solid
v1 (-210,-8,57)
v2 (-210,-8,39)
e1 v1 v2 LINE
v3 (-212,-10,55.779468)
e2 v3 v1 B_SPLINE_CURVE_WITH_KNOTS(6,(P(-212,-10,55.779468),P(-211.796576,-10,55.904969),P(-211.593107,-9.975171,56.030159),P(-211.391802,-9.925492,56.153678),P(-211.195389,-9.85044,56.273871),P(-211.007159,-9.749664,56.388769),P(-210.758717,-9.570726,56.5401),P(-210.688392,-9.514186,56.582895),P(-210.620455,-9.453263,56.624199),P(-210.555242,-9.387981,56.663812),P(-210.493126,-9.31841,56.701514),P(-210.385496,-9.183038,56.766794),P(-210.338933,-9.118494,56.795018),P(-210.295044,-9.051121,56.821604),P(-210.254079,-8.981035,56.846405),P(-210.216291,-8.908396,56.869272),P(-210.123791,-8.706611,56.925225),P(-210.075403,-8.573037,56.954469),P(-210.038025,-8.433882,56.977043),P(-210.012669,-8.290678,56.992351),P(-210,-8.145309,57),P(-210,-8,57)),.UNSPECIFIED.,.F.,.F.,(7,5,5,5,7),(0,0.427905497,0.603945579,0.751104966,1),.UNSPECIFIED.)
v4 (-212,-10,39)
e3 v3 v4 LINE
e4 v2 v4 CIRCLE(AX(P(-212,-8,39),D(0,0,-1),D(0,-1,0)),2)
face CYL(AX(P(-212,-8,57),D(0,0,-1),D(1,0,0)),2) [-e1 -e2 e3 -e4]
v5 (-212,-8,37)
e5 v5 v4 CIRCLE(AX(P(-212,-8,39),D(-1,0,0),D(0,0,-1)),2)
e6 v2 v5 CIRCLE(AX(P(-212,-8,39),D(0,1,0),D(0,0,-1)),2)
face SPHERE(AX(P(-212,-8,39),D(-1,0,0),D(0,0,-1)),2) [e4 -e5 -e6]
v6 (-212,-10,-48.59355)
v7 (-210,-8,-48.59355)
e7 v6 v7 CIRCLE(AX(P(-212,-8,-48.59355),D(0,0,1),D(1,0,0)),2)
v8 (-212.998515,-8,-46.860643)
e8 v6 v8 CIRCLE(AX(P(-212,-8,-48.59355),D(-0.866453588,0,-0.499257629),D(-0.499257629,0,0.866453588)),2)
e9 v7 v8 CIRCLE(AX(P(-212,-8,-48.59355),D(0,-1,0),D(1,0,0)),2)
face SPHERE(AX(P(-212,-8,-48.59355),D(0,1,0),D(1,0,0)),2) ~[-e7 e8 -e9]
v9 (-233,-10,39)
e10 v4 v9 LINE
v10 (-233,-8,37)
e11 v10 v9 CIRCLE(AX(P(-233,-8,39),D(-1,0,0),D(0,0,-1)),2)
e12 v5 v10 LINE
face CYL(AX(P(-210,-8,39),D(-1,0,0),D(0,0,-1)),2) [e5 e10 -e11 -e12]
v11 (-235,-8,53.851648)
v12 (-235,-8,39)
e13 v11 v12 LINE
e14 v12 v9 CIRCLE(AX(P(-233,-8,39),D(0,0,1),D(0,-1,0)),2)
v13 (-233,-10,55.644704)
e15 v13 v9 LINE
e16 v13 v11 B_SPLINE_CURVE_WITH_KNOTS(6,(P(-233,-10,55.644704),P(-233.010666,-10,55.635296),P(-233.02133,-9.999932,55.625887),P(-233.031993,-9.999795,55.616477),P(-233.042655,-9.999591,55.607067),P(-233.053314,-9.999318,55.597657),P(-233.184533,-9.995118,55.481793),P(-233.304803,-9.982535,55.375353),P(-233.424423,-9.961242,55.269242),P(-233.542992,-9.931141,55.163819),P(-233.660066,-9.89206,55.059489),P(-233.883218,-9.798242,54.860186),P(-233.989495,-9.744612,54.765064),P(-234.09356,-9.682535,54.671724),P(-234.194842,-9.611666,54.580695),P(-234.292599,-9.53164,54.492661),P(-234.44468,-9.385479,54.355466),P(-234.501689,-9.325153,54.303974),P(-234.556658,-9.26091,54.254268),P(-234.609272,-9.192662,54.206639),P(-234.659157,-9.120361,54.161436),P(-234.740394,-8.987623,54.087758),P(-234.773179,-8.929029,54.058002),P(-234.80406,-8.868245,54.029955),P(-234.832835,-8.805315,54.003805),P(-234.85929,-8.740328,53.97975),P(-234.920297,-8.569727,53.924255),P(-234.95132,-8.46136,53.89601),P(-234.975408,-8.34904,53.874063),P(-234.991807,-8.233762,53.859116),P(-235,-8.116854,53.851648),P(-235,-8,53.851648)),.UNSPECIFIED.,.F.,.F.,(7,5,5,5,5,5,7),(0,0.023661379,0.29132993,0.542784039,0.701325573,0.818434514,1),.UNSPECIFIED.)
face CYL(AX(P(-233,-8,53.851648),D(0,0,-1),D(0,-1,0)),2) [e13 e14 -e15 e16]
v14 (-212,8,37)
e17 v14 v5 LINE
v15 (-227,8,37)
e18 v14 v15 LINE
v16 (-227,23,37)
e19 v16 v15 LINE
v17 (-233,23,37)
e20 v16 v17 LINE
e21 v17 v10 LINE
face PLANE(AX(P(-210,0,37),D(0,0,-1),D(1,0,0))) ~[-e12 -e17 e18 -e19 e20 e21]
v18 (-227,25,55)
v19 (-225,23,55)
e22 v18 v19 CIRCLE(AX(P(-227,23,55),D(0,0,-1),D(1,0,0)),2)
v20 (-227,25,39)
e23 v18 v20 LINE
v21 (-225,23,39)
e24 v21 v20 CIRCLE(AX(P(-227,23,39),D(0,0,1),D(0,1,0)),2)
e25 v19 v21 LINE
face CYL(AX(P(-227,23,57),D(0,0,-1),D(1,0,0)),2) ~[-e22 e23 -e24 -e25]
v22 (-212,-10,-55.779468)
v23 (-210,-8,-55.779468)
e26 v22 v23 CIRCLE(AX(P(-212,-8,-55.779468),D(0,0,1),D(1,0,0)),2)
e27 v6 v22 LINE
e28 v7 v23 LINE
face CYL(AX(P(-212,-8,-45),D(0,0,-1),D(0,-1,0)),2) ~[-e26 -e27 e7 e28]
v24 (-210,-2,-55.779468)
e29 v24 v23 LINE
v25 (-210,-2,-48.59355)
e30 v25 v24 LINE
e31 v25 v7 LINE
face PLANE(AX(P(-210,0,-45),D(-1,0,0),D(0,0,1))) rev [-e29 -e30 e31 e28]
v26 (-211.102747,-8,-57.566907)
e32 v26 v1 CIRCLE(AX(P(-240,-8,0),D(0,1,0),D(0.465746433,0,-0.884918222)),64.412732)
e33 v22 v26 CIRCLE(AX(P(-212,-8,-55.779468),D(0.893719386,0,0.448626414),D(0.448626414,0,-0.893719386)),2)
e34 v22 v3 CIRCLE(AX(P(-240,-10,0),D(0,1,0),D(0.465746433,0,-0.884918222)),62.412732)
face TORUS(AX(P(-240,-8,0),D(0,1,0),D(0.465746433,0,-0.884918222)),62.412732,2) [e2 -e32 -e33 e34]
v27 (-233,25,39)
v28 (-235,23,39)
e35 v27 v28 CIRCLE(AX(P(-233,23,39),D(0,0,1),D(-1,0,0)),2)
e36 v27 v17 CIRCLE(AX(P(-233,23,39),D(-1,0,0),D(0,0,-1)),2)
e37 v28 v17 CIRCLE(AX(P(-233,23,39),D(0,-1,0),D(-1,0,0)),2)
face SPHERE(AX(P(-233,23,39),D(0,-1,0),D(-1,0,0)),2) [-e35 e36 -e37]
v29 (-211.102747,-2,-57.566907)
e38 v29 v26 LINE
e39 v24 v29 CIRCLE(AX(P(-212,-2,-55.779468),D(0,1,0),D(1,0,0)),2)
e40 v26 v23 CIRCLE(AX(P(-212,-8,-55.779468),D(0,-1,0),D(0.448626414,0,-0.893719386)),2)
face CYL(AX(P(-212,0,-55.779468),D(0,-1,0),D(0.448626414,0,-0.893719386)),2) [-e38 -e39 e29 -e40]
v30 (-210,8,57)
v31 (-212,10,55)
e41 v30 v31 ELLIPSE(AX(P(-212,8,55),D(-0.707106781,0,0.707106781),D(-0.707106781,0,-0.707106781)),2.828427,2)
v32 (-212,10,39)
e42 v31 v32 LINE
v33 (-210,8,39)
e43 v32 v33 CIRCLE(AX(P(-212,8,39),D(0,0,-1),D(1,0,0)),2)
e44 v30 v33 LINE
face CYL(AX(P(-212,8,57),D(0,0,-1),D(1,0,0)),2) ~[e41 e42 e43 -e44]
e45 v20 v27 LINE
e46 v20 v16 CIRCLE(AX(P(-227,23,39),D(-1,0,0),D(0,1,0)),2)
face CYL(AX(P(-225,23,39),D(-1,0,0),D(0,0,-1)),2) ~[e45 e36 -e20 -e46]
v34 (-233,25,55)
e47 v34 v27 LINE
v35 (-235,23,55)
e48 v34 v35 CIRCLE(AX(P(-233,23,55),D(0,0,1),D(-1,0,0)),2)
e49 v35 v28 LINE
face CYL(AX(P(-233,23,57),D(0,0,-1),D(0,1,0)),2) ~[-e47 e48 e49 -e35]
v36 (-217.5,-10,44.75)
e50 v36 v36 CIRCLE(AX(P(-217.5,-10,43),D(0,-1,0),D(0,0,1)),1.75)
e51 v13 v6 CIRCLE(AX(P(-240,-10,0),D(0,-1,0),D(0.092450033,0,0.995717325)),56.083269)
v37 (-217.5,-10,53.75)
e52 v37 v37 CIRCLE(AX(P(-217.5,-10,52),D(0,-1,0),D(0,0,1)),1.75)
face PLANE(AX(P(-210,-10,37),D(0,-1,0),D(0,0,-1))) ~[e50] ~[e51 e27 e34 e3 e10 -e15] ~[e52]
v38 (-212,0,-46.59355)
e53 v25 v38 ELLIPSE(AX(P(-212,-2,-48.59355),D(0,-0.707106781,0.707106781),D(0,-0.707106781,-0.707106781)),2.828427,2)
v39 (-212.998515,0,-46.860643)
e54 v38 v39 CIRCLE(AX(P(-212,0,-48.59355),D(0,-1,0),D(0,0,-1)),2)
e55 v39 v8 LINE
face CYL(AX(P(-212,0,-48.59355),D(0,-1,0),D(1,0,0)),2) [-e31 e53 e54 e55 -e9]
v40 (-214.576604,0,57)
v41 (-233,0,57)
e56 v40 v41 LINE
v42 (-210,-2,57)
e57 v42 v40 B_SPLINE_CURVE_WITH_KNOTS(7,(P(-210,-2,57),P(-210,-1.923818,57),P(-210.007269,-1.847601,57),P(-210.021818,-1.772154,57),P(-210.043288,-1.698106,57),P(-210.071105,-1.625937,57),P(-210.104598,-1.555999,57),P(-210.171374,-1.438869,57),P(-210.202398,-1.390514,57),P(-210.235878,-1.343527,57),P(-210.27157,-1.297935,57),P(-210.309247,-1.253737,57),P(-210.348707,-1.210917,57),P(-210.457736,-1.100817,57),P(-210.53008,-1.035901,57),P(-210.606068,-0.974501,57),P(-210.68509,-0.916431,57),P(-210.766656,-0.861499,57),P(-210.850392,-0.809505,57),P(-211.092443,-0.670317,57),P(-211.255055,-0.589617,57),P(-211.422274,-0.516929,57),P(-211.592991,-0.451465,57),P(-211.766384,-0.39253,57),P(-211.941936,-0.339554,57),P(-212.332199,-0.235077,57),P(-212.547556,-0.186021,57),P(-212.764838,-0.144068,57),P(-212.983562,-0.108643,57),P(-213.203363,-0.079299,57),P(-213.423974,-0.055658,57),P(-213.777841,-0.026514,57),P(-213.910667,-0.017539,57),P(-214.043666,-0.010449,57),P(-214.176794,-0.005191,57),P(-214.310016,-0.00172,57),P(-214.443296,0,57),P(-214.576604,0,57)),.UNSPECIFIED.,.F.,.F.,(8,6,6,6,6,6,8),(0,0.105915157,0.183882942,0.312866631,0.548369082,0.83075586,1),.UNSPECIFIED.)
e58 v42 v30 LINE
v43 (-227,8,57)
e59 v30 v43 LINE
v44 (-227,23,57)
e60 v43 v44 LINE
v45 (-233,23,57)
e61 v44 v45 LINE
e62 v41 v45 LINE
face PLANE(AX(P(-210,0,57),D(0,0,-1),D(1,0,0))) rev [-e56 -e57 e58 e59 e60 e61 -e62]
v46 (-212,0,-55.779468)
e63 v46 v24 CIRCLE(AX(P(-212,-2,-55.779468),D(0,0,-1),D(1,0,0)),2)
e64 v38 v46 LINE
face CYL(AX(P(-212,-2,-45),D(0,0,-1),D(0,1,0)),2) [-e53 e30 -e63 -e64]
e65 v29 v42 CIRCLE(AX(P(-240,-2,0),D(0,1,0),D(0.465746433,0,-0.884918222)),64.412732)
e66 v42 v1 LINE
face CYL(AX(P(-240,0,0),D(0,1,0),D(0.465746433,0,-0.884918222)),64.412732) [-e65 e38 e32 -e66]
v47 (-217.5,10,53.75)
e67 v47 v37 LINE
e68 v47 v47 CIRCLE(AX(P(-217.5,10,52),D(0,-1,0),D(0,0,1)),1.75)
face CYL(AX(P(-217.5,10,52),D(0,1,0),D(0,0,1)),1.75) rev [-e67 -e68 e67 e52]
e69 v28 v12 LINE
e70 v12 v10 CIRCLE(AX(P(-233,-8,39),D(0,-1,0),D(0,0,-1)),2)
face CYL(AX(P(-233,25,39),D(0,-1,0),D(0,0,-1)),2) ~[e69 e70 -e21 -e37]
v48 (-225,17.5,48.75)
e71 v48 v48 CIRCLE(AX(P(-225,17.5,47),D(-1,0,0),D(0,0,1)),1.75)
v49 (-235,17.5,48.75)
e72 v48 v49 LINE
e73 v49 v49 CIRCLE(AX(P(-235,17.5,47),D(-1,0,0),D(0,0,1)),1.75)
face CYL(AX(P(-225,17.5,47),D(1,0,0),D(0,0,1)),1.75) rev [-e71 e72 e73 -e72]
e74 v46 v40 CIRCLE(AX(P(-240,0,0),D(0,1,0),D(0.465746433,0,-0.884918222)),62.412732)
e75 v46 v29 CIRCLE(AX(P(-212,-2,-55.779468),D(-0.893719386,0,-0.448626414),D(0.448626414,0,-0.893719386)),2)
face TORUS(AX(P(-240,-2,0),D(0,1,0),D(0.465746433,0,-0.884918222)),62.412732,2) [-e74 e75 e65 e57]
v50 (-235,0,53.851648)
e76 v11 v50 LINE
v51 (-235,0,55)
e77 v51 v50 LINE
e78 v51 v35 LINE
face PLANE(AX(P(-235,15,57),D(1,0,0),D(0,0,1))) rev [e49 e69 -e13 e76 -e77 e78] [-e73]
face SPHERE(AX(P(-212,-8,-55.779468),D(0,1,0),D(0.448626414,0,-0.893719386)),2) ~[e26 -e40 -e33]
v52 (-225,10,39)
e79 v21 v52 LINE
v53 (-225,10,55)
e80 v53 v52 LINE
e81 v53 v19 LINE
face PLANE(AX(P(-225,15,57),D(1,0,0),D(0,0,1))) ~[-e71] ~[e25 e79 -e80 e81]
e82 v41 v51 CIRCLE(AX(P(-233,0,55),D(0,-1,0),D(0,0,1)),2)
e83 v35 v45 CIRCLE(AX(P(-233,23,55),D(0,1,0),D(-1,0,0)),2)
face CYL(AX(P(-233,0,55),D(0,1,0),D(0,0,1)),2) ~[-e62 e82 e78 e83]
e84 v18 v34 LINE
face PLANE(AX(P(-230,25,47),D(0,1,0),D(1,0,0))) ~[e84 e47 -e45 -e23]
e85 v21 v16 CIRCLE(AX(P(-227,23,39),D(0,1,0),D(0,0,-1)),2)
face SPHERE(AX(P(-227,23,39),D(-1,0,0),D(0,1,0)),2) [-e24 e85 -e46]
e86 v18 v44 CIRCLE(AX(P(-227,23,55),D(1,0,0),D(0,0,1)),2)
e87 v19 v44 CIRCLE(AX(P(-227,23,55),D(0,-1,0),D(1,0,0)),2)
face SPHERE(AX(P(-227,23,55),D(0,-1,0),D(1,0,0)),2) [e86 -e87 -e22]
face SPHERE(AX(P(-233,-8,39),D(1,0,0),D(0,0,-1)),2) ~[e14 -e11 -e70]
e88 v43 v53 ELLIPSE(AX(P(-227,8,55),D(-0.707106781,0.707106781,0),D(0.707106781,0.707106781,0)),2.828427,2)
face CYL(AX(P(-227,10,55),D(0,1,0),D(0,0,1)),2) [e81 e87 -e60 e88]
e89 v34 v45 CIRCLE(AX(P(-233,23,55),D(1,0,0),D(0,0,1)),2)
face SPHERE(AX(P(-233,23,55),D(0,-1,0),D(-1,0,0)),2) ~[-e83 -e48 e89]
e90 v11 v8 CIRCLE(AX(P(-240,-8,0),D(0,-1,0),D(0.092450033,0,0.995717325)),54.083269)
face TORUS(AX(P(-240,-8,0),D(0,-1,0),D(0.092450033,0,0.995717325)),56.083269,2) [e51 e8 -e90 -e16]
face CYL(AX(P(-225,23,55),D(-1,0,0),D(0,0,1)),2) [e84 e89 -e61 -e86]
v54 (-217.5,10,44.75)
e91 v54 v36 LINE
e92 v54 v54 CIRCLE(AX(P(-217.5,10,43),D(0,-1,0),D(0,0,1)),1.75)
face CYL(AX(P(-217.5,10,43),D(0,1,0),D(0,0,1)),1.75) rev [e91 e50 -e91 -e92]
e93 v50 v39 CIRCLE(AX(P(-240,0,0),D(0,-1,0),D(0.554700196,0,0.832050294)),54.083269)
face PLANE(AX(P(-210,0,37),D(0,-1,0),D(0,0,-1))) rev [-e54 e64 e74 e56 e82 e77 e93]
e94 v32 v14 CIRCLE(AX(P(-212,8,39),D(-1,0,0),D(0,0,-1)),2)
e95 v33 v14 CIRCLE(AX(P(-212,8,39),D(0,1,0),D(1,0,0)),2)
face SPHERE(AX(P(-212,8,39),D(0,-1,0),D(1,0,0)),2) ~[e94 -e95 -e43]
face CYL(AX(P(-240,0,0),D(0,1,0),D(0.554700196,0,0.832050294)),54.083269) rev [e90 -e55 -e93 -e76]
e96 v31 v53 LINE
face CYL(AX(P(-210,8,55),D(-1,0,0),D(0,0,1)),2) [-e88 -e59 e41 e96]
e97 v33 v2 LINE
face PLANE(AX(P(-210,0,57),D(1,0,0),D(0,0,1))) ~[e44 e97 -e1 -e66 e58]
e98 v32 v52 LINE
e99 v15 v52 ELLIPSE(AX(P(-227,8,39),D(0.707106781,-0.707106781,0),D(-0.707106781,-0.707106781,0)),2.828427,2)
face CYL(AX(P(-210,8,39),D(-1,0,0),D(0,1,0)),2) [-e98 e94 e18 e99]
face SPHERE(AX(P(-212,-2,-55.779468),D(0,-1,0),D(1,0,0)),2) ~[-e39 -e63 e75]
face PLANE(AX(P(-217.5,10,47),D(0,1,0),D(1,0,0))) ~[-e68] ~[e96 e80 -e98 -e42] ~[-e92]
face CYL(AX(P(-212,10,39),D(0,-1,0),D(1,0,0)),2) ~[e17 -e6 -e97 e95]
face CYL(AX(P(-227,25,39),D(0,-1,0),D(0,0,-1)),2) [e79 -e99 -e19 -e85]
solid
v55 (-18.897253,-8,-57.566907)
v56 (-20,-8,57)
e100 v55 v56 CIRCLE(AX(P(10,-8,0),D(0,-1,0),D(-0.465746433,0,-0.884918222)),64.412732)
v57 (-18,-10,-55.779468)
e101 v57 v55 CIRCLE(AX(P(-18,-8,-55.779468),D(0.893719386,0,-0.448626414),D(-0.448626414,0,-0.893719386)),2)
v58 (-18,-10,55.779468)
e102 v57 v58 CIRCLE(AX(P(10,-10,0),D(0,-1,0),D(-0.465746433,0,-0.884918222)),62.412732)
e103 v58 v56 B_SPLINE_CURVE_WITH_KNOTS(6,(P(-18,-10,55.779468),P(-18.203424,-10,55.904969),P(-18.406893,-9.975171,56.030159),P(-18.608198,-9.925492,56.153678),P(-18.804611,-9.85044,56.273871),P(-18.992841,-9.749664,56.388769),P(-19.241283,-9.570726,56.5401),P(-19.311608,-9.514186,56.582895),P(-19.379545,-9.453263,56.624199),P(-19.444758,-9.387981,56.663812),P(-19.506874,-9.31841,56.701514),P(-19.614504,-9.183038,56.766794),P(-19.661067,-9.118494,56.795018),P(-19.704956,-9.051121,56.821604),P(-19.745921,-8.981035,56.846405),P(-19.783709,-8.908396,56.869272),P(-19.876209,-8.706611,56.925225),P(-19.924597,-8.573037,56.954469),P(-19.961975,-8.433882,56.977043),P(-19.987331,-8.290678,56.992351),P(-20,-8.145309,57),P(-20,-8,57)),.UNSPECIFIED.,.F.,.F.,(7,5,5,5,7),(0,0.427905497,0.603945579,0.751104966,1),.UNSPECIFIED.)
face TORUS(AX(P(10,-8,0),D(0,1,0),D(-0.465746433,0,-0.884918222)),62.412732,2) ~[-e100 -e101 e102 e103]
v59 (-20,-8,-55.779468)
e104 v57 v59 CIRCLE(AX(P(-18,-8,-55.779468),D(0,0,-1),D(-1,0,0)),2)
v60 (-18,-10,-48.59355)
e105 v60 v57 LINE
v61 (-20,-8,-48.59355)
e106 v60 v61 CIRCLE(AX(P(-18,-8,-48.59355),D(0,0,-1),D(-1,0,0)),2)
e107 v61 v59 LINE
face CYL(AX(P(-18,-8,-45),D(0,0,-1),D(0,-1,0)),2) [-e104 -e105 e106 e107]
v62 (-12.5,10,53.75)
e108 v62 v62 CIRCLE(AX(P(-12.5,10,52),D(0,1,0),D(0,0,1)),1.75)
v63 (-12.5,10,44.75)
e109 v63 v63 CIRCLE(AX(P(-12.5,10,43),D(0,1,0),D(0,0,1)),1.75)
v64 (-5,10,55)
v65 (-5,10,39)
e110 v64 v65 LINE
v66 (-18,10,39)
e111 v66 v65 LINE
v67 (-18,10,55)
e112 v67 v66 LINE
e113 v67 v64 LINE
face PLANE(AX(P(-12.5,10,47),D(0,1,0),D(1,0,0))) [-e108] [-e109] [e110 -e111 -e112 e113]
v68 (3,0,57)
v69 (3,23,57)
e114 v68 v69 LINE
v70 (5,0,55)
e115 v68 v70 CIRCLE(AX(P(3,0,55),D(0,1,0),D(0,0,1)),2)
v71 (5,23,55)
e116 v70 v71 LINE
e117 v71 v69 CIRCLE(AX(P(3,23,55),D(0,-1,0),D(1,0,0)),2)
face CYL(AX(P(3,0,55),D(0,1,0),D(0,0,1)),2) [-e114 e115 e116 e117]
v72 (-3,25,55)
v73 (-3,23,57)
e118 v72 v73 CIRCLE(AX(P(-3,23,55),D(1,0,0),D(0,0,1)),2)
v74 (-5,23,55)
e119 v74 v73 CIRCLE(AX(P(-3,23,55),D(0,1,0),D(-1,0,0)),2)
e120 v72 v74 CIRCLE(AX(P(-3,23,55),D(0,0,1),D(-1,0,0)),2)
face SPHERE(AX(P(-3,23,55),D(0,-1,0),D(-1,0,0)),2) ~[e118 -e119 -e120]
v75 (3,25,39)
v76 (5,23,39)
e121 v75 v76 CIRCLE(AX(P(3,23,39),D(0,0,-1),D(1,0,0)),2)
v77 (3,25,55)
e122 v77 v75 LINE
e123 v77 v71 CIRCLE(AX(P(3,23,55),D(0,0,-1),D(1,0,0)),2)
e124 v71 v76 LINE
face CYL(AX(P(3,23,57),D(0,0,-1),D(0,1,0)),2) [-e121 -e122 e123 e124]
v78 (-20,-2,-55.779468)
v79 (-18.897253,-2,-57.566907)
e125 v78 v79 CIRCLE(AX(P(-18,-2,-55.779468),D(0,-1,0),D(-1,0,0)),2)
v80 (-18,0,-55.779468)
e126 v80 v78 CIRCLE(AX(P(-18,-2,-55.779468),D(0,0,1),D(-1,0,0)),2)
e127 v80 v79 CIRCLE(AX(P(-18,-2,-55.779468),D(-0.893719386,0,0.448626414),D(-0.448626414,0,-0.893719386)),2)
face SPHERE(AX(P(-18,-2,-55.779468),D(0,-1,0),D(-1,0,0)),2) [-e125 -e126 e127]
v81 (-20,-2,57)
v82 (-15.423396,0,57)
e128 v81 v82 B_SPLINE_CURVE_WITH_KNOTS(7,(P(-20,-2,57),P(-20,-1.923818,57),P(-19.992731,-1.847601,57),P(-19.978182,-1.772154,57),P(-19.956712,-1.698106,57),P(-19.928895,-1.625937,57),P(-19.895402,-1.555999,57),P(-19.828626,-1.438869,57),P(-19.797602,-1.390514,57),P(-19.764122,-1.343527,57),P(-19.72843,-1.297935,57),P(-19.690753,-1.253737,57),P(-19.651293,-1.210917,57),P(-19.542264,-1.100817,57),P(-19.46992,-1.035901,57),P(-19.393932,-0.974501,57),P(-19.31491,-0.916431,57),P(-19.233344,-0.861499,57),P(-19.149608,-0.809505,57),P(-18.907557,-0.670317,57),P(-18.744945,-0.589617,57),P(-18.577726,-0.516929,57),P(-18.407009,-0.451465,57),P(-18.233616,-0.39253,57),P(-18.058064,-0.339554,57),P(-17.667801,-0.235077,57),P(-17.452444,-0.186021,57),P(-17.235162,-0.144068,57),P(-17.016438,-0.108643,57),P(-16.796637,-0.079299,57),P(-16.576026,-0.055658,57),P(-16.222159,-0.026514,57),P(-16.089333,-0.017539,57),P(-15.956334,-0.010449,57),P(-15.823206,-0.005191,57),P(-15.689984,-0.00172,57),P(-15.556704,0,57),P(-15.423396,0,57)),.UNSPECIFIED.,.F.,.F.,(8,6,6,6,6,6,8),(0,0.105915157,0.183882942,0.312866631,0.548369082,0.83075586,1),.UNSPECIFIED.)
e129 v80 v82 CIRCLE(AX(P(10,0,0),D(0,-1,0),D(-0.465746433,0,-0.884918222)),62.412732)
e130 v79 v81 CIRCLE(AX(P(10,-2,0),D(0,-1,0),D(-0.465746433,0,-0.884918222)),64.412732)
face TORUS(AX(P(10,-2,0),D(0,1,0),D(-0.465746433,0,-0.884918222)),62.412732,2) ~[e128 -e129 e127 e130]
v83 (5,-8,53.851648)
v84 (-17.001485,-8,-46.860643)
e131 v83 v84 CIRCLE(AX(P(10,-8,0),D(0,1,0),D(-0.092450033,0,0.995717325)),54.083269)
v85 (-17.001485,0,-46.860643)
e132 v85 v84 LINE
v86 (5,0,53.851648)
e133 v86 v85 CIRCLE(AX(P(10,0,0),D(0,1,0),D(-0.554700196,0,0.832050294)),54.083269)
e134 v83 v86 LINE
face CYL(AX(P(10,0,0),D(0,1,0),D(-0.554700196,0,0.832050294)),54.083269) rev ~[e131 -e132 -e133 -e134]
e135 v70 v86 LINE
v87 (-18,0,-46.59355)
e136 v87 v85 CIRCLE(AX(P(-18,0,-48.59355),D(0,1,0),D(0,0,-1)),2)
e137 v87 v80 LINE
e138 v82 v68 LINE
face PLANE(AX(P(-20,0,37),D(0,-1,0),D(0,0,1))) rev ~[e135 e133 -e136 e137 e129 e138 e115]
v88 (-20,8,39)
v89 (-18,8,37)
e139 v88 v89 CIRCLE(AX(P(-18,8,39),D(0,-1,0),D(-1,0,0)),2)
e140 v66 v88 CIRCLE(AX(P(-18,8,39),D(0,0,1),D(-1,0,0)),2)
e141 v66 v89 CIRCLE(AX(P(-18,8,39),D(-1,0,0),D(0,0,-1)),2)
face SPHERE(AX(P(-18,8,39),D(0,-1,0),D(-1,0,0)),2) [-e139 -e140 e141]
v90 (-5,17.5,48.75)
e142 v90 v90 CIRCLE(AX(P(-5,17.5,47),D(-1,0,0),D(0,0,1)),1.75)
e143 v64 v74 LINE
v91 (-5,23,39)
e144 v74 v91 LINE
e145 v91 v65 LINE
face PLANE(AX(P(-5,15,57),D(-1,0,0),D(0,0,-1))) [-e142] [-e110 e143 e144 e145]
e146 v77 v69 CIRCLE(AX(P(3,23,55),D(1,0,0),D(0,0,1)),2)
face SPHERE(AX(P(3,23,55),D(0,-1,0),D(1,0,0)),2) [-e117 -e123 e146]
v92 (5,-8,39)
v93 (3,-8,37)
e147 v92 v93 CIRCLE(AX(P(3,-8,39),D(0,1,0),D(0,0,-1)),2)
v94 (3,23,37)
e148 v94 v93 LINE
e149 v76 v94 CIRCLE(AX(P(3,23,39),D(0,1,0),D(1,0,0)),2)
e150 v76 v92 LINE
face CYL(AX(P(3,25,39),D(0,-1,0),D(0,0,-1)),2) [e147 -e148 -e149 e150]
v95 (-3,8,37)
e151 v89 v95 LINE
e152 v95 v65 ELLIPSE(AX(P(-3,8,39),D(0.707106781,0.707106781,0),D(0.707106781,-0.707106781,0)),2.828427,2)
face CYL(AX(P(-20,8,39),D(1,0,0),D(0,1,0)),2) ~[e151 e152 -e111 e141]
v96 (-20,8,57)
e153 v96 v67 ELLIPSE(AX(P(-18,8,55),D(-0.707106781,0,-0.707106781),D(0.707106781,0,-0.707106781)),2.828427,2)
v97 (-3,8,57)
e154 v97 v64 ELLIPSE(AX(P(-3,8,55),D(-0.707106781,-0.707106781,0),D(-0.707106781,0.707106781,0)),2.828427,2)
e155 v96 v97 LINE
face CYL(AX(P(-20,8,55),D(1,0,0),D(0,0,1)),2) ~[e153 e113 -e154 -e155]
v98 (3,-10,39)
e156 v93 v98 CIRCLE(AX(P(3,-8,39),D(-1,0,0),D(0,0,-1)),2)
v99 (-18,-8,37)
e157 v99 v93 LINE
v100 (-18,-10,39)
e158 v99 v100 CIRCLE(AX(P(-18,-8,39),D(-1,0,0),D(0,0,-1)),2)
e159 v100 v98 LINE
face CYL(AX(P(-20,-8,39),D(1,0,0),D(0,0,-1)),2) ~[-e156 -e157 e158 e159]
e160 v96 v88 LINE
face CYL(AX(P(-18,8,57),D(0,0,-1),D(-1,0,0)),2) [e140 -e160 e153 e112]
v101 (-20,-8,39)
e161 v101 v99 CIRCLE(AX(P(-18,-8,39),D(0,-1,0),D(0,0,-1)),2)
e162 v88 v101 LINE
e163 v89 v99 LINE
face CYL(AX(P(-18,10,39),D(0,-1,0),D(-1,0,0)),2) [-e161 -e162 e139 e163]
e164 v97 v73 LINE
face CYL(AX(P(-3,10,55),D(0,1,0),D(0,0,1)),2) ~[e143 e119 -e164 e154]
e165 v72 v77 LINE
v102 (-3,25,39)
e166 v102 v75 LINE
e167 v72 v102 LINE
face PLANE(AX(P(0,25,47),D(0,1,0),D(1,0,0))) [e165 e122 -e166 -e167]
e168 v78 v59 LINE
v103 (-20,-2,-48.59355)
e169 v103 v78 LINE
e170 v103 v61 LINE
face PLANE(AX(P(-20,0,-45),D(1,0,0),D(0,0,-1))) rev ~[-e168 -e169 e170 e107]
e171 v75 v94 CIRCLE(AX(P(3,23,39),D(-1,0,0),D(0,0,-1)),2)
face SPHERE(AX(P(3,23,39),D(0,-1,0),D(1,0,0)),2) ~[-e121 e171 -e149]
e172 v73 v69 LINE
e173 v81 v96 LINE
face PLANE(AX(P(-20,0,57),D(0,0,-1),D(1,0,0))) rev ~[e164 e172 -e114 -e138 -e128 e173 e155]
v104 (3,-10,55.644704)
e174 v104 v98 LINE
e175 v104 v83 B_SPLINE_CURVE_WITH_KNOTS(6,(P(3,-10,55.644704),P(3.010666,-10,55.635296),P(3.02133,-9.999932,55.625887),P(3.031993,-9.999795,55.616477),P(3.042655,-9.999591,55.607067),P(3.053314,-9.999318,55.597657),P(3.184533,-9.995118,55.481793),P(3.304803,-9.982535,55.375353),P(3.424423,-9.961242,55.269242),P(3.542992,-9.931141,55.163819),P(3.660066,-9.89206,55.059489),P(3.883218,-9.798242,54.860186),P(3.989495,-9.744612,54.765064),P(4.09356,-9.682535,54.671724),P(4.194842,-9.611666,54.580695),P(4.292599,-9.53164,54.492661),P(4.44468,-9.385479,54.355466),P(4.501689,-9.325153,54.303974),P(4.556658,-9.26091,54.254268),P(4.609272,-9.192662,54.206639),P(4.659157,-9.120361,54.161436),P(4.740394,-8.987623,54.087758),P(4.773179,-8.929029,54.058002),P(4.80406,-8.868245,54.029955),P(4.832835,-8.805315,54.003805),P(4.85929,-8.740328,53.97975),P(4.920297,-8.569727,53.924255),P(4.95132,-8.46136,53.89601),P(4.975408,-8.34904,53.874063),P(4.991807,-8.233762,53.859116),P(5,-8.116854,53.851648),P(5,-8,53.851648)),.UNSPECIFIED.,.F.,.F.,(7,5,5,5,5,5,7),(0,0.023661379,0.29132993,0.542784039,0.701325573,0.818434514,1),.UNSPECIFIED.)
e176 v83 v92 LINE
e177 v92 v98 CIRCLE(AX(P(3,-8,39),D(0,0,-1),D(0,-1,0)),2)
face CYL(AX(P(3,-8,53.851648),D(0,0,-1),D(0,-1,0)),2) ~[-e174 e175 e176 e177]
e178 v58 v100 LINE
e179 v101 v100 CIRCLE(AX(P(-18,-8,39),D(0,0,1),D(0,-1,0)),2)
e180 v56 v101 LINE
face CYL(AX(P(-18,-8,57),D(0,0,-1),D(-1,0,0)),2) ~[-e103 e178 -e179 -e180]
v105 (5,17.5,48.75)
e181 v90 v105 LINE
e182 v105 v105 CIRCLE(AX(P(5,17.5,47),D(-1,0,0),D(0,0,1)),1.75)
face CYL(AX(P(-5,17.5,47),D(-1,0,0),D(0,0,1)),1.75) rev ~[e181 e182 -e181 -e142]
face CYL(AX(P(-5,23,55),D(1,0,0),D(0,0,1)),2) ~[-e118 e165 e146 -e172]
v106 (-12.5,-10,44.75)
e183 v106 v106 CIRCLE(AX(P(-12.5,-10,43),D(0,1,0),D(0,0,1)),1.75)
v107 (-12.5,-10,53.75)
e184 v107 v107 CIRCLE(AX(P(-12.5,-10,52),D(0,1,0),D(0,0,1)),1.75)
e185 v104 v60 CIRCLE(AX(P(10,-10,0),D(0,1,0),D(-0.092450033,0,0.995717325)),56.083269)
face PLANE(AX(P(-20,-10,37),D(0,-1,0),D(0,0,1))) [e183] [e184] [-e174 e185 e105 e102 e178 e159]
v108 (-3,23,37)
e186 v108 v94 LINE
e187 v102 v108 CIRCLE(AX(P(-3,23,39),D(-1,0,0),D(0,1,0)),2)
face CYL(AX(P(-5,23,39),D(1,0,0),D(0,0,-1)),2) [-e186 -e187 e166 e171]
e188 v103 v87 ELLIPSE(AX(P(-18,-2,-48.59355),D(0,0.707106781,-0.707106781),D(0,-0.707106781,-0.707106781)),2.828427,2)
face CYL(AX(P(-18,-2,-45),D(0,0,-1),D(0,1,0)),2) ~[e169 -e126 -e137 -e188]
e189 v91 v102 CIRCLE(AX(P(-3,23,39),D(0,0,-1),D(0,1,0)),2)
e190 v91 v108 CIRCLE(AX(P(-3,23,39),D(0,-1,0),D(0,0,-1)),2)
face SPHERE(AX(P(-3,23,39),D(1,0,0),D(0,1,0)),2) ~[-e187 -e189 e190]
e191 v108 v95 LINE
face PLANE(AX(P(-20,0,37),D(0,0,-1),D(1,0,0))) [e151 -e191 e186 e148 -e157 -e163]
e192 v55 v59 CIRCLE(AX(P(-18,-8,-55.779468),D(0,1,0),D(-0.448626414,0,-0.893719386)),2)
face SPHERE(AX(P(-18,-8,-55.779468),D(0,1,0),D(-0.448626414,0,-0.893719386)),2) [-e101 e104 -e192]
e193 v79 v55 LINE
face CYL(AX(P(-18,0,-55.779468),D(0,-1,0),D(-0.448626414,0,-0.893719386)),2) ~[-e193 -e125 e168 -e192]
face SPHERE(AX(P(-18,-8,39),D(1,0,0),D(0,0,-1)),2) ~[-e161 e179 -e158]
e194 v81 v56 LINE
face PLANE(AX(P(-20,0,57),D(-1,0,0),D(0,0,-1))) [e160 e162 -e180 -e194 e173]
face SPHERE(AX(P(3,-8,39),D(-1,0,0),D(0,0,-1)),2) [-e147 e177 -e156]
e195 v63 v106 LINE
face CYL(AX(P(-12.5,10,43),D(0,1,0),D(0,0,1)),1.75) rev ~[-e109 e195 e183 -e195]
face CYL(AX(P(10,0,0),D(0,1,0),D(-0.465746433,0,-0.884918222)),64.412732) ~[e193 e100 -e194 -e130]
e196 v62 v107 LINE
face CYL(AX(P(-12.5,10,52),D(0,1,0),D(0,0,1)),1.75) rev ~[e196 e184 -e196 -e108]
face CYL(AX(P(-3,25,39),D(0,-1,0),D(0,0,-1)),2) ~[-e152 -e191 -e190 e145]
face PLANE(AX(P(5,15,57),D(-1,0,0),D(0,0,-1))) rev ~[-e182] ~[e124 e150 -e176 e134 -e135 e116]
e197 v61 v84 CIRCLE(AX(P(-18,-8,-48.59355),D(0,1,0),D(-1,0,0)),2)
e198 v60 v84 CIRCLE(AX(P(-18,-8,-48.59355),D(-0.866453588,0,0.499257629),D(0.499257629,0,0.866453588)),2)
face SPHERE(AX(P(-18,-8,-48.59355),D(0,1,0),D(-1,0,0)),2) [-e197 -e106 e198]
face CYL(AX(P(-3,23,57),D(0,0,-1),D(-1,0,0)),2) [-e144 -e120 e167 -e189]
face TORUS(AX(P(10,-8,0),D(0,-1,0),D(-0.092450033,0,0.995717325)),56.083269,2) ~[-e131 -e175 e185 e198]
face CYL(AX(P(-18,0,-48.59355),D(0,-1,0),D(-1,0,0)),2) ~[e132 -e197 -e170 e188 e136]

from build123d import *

# Parameters (mm, degrees)
BOSS_EXTRUDE1_DEPTH  = 10
SKETCH2_W            = 20
SKETCH2_H            = 10
BOSS_EXTRUDE2_DEPTH  = 15
SKETCH3_W            = 20
SKETCH3_H            = 15
BOSS_EXTRUDE10_DEPTH = 10
SKETCH4_W            = 10
SKETCH4_H            = 20
BOSS_EXTRUDE11_DEPTH = 10
SKETCH12_W           = 10
SKETCH12_H           = 20
BOSS_EXTRUDE16_DEPTH = 10
SKETCH10_W           = 15
SKETCH10_H           = 20
BOSS_EXTRUDE17_DEPTH = 10
CUT_EXTRUDE1_REACH   = 102.43
SKETCH14_R           = 1.75
CUT_EXTRUDE2_REACH   = 107.263
SKETCH15_R           = 1.75
FILLET1_R            = 2


with BuildPart() as part:
    # Sketch1 → Boss-Extrude1 (new body)
    with BuildSketch(Plane(origin=(0, 0, 0), x_dir=(1, 0, 0), z_dir=(0, 1, 0))):
        with BuildLine():
            Line((-20, 45), (-20, 57))
            ThreePointArc((-20, 57), (74.412731661, 0), (-20, -57))
            Line((-20, -57), (-20, -45))
            ThreePointArc((-20, -45), (64.083269132, 0), (-20, 45))
        make_face()
    extrude(amount=-BOSS_EXTRUDE1_DEPTH)

    # Sketch2 → Boss-Extrude2 (add)
    with BuildSketch(Plane.ZY.offset(20)):
        with Locations((47, -5)):
            Rectangle(SKETCH2_W, SKETCH2_H)
    extrude(amount=-BOSS_EXTRUDE2_DEPTH)



with BuildPart() as body_2:
    # Sketch3 → Boss-Extrude10 (new body)
    with BuildSketch(Plane(origin=(-5, 0, 0), x_dir=(0, 0, -1), z_dir=(1, 0, 0))):
        with Locations((-47, 7.5)):
            Rectangle(SKETCH3_W, SKETCH3_H)
    extrude(amount=BOSS_EXTRUDE10_DEPTH)


with BuildPart() as part_1:
    add(part.part)

    add(body_2.part)  # Boss-Extrude11 merges body 2
    # Sketch4 → Boss-Extrude11 (add)
    with BuildSketch(Plane(origin=(0, 0, 0), x_dir=(-1, 0, 0), z_dir=(0, -1, 0))):
        with Locations((0, -47)):
            Rectangle(SKETCH4_W, SKETCH4_H)
    extrude(amount=BOSS_EXTRUDE11_DEPTH)

    # Sketch12 → Boss-Extrude16 (add)
    with BuildSketch(Plane(origin=(0, 15, 0), x_dir=(1, 0, 0), z_dir=(0, 1, 0))):
        with Locations((0, -47)):
            Rectangle(SKETCH12_W, SKETCH12_H)
    extrude(amount=BOSS_EXTRUDE16_DEPTH)

    # Sketch10 → Boss-Extrude17 (add)
    with BuildSketch(Plane(origin=(0, 0, 0), x_dir=(1, 0, 0), z_dir=(0, 1, 0))):
        with Locations((-12.5, -47)):
            Rectangle(SKETCH10_W, SKETCH10_H)
    extrude(amount=BOSS_EXTRUDE17_DEPTH)

    # Sketch14 → Cut-Extrude1 (cut, up to next)
    with BuildSketch(Plane(origin=(0, 10, 0), x_dir=(1, 0, 0), z_dir=(0, 1, 0)), mode=Mode.PRIVATE) as cut_extrude1_sk1:
        with Locations(Location((-12.5, -43, 0), (0, 0, 270))):
            Circle(SKETCH14_R)
    cut_extrude1_tool1 = extrude(cut_extrude1_sk1.sketch, amount=-CUT_EXTRUDE1_REACH, mode=Mode.PRIVATE) & part_1.part
    # Sketch14 → Cut-Extrude1 (cut, up to next)
    with BuildSketch(Plane(origin=(0, 10, 0), x_dir=(1, 0, 0), z_dir=(0, 1, 0)), mode=Mode.PRIVATE) as cut_extrude1_sk2:
        with Locations(Location((-12.5, -52, 0), (0, 0, 270))):
            Circle(SKETCH14_R)
    cut_extrude1_tool2 = extrude(cut_extrude1_sk2.sketch, amount=-CUT_EXTRUDE1_REACH, mode=Mode.PRIVATE) & part_1.part
    add(cut_extrude1_tool1.solids().sort_by_distance((-12.5, 10, 43))[0], mode=Mode.SUBTRACT)
    add(cut_extrude1_tool2.solids().sort_by_distance((-12.5, 10, 52))[0], mode=Mode.SUBTRACT)

    # Sketch15 → Cut-Extrude2 (cut, up to next)
    with BuildSketch(Plane.ZY.offset(5), mode=Mode.PRIVATE) as cut_extrude2_sk1:
        with Locations((47, 17.5)):
            Circle(SKETCH15_R)
    cut_extrude2_tool1 = extrude(cut_extrude2_sk1.sketch, amount=-CUT_EXTRUDE2_REACH, mode=Mode.PRIVATE) & part_1.part
    add(cut_extrude2_tool1.solids().sort_by_distance((-5, 17.5, 47))[0], mode=Mode.SUBTRACT)

    # Fillet1
    fillet1_edges = [part_1.edges().sort_by_distance(p)[0] for p in [
        (74.412731661, -10, 0),
        (-20, -10, -51),
        (-7.5, -10, 37),
        (-20, 0, 37),
        (5, 7.5, 37),
        (62.432452561, -10, -13.260389074),
        (5, -10, 45.425824036),
        (-20, 0, -51),
        (74.412731661, 0, 0),
        (-5, 17.5, 57),
        (5, 12.5, 57),
        (5, 25, 47),
        (0, 25, 37),
        (-5, 25, 47),
        (0, 25, 57),
        (-20, -10, 47),
        (-5, 17.5, 37),
        (-20, -5, -45),
        (-20, -5, -57),
        (-20, 10, 47),
        (-12.5, 10, 57),
        (-12.5, 10, 37),
    ]]
    fillet(fillet1_edges, radius=FILLET1_R)


with BuildPart() as body_2_2:
    # Mirror2: mirrored copy
    add(part_1.part.mirror(Plane.ZY.offset(115)))


solid = Compound([part_1.part, body_2_2.part])
